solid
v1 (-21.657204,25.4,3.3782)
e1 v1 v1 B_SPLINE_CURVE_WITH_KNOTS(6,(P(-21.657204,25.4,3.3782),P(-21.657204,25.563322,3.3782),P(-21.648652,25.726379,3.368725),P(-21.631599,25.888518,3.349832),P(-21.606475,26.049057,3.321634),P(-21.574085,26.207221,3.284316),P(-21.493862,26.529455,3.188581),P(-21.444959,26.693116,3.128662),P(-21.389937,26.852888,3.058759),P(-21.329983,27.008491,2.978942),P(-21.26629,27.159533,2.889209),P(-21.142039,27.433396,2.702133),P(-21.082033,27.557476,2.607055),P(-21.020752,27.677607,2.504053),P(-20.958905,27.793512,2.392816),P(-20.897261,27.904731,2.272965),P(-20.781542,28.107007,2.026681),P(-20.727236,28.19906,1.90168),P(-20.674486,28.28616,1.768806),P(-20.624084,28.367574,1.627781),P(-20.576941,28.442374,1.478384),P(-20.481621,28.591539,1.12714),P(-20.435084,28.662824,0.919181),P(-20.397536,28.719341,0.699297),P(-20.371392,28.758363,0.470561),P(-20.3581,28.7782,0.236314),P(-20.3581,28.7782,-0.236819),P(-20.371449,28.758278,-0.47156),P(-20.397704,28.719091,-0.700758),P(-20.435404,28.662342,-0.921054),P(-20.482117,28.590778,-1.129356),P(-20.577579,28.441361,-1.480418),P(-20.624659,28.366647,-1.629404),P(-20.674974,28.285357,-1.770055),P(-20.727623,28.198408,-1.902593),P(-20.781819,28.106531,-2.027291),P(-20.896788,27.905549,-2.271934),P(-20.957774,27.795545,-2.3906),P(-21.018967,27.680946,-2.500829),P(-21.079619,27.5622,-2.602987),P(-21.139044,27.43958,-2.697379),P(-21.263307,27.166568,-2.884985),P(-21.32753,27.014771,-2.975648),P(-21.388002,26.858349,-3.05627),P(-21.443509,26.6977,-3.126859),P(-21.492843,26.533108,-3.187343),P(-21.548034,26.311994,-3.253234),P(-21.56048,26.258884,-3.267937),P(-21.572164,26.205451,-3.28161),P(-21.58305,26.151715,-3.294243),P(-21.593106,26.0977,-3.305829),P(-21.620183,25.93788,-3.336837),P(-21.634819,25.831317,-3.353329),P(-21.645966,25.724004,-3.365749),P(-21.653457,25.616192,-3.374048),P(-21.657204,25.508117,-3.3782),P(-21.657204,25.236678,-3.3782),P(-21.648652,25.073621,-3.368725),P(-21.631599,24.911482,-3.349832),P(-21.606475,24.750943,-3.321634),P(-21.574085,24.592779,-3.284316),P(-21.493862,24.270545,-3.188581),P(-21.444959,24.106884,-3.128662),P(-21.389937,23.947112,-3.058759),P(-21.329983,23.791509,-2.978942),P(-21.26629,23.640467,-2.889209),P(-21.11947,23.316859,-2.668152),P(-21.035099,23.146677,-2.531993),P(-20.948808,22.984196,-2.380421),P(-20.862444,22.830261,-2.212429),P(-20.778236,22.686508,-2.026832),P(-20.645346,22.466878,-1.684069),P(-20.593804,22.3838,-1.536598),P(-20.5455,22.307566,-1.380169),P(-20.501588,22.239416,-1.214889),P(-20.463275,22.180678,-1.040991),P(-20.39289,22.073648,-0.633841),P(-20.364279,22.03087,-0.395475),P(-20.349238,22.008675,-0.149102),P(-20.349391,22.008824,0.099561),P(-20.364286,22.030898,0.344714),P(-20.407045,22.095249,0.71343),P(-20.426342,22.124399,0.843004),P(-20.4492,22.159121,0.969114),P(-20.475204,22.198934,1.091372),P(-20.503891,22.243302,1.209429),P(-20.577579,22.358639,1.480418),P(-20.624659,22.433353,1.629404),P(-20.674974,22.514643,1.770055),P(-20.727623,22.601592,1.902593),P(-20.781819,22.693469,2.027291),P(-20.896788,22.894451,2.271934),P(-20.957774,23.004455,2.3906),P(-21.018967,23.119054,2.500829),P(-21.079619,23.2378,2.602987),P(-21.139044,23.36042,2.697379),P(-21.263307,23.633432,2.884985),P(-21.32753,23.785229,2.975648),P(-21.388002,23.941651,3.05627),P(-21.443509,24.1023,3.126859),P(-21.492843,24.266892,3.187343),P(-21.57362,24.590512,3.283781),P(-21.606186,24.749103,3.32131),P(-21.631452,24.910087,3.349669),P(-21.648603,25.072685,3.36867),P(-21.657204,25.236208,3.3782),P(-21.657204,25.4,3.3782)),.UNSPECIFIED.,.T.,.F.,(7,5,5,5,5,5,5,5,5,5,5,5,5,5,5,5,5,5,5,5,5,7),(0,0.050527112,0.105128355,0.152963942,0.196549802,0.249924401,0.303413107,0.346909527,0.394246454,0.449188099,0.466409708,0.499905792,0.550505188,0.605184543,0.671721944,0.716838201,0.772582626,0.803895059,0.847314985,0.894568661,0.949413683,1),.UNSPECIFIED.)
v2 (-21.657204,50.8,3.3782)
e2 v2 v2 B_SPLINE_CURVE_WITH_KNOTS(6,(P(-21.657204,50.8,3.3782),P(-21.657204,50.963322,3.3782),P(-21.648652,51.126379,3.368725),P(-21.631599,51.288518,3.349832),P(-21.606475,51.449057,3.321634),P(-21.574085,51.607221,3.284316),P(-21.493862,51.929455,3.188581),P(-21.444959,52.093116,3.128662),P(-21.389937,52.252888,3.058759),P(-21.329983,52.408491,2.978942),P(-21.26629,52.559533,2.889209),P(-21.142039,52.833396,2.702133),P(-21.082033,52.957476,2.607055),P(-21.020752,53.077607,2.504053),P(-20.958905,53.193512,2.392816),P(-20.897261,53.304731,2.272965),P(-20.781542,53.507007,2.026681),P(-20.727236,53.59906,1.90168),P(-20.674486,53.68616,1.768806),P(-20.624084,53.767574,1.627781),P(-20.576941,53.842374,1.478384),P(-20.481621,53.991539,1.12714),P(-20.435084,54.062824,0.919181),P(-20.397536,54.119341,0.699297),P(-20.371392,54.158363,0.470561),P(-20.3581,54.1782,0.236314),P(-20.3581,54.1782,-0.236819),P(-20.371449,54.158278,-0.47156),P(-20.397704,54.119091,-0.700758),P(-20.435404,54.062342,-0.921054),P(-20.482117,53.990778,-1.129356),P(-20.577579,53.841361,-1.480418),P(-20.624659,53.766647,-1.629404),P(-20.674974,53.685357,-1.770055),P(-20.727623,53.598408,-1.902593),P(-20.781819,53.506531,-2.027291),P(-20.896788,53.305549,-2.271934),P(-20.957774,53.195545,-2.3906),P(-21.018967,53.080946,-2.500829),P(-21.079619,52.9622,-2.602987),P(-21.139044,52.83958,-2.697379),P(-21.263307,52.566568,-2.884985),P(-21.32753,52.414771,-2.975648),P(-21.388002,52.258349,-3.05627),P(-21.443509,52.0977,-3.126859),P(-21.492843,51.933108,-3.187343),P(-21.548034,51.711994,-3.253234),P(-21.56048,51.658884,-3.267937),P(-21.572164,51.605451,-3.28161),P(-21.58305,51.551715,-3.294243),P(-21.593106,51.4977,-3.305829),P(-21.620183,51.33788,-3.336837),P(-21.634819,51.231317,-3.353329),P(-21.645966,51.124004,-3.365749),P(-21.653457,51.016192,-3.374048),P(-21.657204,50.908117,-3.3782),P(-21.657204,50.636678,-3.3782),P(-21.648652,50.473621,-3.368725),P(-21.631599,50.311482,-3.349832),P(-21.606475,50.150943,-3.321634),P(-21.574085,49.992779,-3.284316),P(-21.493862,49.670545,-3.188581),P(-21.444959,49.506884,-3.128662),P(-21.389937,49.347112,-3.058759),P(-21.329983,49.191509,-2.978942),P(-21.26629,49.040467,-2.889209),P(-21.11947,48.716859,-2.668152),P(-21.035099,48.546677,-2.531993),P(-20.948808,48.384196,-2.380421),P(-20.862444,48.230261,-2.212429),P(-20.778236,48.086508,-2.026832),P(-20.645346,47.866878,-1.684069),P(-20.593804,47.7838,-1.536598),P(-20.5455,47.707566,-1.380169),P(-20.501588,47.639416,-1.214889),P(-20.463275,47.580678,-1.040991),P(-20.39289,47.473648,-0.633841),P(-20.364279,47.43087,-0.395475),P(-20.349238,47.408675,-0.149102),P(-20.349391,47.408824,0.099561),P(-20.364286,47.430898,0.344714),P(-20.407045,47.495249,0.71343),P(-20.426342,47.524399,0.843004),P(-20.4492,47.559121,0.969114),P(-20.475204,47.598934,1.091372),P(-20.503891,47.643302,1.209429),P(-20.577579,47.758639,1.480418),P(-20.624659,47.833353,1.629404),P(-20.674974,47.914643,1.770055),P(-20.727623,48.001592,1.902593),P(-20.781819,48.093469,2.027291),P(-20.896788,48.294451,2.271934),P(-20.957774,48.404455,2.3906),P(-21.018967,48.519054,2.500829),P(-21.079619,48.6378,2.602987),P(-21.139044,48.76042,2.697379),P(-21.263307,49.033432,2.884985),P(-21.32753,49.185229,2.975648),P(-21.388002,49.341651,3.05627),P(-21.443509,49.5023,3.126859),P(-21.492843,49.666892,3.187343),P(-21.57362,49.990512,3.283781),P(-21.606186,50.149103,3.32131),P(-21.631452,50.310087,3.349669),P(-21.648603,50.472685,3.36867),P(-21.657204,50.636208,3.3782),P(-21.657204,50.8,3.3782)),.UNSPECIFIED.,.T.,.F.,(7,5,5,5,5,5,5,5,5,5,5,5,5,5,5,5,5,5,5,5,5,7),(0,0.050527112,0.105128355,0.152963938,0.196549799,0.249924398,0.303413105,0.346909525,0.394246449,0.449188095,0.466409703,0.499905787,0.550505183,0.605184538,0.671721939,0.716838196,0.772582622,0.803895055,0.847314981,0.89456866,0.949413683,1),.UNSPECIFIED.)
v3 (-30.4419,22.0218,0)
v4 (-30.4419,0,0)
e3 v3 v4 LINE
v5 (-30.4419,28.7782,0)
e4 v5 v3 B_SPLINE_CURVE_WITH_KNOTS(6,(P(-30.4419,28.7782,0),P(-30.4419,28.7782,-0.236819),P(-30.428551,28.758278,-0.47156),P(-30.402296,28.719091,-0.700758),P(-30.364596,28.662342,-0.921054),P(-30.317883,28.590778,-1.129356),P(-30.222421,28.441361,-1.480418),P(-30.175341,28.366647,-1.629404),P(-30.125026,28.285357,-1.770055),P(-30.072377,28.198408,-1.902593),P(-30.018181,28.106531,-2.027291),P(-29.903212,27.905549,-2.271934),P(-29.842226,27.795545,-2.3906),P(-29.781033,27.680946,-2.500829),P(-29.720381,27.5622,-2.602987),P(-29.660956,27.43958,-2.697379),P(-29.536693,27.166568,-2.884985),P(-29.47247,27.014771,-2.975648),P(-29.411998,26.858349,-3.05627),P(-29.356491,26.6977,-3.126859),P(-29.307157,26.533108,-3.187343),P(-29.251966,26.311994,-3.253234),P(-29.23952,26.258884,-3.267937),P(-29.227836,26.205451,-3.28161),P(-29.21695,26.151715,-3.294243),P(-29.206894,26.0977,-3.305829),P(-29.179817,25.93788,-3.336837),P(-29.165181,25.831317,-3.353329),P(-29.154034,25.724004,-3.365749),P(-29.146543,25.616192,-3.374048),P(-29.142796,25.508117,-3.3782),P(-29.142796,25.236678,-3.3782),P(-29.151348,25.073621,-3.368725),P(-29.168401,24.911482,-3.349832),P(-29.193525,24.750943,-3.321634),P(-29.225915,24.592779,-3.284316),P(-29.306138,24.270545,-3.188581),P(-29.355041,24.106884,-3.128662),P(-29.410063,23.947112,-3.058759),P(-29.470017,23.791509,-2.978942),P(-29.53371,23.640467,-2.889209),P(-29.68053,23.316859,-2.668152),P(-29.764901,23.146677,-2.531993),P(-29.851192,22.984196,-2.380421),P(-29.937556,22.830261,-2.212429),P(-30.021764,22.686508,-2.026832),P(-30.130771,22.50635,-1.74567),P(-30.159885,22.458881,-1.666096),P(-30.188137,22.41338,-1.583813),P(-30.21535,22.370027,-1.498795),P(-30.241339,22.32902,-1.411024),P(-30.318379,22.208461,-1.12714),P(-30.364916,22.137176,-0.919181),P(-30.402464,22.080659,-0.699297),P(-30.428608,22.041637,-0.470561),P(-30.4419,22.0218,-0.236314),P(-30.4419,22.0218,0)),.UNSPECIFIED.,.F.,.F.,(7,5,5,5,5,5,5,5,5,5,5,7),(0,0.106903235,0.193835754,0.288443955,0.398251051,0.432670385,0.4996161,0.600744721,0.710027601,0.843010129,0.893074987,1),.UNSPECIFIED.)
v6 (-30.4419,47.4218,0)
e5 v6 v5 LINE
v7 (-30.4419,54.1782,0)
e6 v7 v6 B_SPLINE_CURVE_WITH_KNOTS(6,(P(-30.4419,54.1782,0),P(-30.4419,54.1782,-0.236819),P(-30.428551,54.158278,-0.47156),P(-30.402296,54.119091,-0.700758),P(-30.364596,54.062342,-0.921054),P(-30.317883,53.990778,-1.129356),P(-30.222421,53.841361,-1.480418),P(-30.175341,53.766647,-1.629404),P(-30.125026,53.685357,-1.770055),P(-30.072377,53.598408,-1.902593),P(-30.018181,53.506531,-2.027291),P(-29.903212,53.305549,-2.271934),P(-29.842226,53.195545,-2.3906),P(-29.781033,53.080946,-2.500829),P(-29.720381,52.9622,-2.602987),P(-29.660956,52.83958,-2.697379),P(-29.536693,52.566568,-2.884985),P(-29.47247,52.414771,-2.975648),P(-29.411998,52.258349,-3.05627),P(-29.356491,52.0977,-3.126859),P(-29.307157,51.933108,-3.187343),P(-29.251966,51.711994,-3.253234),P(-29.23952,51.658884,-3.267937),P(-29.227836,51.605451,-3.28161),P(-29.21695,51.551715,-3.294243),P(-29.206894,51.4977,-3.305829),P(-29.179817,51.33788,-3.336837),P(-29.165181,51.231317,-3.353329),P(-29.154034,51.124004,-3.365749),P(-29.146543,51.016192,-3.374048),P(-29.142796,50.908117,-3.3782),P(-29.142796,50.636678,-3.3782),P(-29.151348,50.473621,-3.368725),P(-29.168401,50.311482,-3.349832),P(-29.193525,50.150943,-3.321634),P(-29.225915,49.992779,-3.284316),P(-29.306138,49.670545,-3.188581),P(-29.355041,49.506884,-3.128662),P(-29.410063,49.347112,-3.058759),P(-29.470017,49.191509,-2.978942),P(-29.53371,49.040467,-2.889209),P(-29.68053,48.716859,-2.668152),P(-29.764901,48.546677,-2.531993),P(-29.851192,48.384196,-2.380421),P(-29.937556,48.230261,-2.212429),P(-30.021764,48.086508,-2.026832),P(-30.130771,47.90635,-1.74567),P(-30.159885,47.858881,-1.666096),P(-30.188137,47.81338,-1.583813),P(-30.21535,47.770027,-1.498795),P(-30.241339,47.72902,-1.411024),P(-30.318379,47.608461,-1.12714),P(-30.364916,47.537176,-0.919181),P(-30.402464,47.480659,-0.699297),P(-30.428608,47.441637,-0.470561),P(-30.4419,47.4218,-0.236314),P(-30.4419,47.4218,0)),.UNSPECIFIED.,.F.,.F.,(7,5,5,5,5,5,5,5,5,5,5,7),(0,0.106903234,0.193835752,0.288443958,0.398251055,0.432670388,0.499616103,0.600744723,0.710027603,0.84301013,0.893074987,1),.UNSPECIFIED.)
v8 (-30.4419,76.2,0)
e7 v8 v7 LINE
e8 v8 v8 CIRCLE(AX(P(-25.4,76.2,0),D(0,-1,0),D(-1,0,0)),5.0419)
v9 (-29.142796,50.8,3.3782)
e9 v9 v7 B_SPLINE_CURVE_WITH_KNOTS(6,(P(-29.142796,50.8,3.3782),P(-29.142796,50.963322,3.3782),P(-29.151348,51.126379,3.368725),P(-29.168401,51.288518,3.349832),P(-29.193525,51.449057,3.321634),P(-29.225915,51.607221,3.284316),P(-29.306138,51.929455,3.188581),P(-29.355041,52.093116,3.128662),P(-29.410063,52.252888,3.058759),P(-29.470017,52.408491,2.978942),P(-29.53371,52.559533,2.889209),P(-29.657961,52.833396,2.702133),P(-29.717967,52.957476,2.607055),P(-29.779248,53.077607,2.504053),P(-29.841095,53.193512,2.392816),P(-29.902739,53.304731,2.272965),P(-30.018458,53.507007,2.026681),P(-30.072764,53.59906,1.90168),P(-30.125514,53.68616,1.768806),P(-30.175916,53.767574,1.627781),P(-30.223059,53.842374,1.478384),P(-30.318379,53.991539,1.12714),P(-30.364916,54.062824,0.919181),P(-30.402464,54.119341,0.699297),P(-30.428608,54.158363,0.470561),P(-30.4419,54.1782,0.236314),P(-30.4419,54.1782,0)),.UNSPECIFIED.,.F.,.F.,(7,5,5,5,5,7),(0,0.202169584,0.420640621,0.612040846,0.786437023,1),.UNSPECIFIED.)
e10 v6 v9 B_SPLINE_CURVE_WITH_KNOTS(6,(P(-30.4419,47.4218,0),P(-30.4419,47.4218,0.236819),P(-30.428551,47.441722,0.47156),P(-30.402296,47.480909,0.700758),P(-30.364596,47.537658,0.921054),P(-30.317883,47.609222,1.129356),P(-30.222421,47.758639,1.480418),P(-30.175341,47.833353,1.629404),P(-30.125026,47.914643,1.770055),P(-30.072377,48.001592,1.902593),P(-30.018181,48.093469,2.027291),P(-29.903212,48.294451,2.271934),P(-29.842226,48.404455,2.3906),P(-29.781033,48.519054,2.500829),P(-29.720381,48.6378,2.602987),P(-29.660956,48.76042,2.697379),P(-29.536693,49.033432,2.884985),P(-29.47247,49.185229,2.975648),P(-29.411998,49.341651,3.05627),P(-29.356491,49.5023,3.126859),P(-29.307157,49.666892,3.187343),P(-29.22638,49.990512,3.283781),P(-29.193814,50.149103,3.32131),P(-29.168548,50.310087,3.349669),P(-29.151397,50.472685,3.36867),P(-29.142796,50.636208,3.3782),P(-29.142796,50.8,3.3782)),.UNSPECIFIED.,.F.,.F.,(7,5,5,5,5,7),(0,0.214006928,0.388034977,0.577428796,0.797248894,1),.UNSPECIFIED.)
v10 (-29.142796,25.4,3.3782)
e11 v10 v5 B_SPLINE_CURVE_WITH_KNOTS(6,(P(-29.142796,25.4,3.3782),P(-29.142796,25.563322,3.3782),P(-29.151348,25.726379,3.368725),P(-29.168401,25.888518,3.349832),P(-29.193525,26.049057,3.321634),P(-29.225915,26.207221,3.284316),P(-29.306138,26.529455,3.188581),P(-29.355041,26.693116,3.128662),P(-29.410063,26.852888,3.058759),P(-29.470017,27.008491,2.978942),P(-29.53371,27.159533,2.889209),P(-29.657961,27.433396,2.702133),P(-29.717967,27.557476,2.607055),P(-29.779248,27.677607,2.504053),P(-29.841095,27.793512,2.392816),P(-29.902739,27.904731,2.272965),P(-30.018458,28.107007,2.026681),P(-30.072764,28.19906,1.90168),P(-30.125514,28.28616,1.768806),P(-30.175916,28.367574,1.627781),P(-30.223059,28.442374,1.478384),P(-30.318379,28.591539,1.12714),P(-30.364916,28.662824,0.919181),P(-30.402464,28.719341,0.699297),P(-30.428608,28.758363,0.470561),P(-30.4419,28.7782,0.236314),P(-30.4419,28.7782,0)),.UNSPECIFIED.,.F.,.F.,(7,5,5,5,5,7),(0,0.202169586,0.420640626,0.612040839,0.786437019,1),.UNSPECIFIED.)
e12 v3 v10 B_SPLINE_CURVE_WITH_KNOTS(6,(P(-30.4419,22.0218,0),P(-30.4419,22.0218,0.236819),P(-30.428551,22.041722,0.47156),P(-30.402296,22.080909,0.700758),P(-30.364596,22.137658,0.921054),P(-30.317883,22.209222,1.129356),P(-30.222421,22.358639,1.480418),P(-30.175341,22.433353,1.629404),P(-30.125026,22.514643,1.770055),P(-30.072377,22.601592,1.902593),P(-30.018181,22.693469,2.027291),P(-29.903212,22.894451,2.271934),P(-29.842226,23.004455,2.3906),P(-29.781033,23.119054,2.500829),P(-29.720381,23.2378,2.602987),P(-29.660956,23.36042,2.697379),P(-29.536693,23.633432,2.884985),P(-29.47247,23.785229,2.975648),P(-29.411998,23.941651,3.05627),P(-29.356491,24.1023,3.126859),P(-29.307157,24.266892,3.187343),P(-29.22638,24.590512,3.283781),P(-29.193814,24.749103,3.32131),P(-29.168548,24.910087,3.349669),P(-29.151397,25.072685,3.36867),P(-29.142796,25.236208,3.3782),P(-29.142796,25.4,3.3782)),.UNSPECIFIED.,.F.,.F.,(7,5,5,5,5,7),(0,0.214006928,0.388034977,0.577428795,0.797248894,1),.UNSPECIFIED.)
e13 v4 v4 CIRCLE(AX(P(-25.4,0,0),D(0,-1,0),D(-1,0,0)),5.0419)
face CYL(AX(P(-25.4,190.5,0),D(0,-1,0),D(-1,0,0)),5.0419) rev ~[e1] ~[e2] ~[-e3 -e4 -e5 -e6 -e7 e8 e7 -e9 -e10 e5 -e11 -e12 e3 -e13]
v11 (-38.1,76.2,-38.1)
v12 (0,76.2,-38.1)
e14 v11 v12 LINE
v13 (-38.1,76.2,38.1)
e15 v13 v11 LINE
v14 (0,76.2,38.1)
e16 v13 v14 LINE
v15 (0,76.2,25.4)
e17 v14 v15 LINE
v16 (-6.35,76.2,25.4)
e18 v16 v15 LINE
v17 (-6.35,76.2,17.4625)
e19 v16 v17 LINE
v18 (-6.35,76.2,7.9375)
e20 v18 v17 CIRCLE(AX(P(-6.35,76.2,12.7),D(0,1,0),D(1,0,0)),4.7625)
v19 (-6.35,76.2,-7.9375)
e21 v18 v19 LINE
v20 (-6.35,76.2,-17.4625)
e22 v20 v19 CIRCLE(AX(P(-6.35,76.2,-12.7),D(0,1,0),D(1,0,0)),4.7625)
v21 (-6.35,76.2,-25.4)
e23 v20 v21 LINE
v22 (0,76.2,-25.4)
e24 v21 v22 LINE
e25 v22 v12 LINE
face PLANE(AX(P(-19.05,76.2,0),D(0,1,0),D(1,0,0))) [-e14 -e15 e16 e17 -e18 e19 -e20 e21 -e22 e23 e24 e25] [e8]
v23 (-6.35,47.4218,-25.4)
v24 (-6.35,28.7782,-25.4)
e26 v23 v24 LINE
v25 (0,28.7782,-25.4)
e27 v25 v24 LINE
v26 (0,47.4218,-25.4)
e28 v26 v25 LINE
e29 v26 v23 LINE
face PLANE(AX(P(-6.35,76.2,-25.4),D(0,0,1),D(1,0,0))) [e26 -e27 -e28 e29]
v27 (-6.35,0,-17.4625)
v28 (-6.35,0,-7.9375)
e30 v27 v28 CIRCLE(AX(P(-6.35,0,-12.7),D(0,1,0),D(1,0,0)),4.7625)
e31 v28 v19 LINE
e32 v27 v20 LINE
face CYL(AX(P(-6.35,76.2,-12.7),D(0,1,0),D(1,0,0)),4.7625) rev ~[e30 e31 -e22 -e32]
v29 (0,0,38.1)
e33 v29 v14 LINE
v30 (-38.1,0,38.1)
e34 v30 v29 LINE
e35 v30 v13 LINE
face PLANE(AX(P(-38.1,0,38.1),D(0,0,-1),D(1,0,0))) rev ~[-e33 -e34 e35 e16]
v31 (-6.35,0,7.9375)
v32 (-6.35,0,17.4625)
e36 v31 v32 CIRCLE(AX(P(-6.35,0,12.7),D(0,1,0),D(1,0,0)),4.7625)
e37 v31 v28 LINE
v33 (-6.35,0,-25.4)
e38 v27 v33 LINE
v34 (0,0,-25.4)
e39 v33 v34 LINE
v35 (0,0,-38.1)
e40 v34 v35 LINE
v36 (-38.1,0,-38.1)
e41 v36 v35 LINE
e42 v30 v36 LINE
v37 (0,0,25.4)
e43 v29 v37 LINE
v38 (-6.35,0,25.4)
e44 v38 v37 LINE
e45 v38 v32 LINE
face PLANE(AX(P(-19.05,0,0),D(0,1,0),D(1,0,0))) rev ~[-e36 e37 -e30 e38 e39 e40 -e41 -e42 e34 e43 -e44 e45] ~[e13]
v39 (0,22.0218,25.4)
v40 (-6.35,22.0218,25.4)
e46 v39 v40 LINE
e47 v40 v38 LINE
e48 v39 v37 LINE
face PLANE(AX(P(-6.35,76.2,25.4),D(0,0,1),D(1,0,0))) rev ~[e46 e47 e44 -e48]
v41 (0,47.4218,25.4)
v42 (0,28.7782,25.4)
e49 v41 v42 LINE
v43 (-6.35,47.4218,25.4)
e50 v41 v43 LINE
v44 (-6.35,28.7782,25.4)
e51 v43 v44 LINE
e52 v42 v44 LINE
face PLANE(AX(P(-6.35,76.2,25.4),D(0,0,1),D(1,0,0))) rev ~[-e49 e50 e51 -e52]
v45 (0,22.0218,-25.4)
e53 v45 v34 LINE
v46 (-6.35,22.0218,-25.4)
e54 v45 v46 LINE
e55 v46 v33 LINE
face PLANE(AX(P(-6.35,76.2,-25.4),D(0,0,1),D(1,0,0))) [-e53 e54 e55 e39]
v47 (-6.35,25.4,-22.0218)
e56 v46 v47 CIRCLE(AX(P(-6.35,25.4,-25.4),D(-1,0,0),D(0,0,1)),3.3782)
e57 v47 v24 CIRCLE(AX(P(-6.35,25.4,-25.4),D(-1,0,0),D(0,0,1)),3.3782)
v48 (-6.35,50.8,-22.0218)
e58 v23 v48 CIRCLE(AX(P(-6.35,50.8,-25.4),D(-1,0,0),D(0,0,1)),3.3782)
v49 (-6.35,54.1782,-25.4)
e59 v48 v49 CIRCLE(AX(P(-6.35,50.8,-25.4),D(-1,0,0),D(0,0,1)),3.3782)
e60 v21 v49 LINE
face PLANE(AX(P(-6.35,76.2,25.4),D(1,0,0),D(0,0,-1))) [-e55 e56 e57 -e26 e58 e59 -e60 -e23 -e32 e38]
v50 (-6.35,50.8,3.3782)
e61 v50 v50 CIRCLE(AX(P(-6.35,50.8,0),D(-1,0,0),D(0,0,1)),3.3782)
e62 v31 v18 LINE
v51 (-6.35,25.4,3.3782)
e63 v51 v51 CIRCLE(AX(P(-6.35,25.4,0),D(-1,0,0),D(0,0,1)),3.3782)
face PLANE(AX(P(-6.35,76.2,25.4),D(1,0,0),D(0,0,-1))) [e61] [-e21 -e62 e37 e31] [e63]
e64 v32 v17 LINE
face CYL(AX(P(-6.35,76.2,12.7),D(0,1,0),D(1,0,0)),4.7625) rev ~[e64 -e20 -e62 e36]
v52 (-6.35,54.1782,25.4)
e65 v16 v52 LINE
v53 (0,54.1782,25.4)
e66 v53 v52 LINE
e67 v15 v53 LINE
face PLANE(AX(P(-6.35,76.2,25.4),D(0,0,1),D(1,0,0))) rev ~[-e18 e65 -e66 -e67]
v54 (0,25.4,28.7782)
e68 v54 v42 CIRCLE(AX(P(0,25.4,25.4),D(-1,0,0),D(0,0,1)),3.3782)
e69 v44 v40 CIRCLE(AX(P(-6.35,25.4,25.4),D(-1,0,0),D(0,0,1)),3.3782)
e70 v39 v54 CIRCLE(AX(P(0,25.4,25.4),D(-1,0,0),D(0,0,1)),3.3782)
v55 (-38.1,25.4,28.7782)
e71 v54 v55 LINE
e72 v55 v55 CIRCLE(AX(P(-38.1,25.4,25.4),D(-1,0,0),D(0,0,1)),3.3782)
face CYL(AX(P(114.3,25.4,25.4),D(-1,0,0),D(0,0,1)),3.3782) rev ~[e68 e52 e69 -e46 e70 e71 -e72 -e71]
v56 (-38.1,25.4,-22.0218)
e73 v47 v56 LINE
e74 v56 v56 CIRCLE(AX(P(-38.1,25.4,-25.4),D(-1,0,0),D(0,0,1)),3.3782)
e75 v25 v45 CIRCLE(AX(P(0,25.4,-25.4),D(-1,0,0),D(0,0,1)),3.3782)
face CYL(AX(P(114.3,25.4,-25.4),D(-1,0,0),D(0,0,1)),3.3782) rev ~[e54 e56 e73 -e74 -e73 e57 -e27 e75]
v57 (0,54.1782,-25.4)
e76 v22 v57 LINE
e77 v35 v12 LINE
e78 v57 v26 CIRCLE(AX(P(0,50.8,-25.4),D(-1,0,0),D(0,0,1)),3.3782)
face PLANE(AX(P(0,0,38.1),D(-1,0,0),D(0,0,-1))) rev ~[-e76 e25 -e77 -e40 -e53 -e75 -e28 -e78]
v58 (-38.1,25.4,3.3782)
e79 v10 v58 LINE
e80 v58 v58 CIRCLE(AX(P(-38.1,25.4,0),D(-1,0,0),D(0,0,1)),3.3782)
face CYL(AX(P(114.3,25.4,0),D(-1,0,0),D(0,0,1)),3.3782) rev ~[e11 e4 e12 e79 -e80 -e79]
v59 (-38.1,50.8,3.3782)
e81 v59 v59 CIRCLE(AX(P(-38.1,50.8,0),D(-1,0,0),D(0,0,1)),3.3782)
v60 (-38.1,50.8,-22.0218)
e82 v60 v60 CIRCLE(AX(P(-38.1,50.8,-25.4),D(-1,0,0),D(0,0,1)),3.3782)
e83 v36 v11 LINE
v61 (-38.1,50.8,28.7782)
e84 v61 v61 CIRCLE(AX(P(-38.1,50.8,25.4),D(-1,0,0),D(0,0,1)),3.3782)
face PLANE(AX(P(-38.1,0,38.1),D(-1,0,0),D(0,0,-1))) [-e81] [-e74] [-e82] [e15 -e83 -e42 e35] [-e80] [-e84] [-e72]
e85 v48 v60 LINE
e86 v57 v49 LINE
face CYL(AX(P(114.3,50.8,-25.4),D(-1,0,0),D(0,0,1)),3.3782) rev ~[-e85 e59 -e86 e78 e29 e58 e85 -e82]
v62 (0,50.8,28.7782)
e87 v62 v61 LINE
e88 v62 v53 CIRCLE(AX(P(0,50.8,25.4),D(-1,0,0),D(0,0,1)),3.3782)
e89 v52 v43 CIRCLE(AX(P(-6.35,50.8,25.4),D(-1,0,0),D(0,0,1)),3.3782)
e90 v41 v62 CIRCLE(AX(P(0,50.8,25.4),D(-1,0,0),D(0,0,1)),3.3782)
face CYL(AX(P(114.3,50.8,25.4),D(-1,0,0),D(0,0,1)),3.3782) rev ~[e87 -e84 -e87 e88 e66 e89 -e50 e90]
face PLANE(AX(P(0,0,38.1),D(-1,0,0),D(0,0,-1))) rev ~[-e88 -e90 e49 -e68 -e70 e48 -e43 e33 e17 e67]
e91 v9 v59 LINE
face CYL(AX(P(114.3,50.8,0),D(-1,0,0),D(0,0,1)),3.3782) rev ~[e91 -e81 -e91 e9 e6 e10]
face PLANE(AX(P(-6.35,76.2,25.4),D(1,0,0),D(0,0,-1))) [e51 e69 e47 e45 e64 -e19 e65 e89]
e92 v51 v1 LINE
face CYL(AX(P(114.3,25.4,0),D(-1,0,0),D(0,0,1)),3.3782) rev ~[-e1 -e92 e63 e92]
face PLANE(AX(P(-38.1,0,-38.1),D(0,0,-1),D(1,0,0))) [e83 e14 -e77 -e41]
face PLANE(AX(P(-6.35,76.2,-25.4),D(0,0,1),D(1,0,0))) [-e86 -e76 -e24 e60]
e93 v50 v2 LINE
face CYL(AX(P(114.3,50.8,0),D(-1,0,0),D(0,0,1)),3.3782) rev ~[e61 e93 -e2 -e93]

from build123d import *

# Parameters (mm, degrees)
SKETCH1_W               = 38.1
SKETCH1_H               = 76.2
BOSS_EXTRUDE1_DEPTH     = 76.2
SKETCH2_W               = 6.35
SKETCH2_H               = 50.8
CUT_EXTRUDE1_DEPTH      = 94.3255592
F_1_4_CLEARANCE_HOLE1_D = 6.7564
F_3_8_CLEARANCE_HOLE1_D = 10.0838
SKETCH7_R               = 4.7625
CUT_EXTRUDE2_DEPTH      = 94.325559323


with BuildPart() as part:
    # Sketch1 → Boss-Extrude1 (new body)
    with BuildSketch(Plane(origin=(0, 0, 0), x_dir=(1, 0, 0), z_dir=(0, 1, 0))):
        with Locations((-19.05, 0)):
            Rectangle(SKETCH1_W, SKETCH1_H)
    extrude(amount=BOSS_EXTRUDE1_DEPTH)

    # Sketch2 → Cut-Extrude1 (cut, through all)
    with BuildSketch(Plane(origin=(0, 76.2, 0), x_dir=(1, 0, 0), z_dir=(0, 1, 0))):
        with Locations((-3.175, 0)):
            Rectangle(SKETCH2_W, SKETCH2_H)
    extrude(amount=-CUT_EXTRUDE1_DEPTH, mode=Mode.SUBTRACT)

    # 1/4 Clearance Hole1 (through all)
    with Locations(Plane(origin=(0, 0, 0), x_dir=(0, 0, -1), z_dir=(1, 0, 0))):
        with Locations((0, 50.8), (0, 25.4), (-25.4, 25.4), (-25.4, 50.8), (25.4, 50.8), (25.4, 25.4)):
            Hole(F_1_4_CLEARANCE_HOLE1_D / 2)

    # 3/8 Clearance Hole1 (through all)
    with Locations(Plane(origin=(0, 76.2, 0), x_dir=(1, 0, 0), z_dir=(0, 1, 0))):
        with Locations((-25.4, 0)):
            Hole(F_3_8_CLEARANCE_HOLE1_D / 2)

    # Sketch7 → Cut-Extrude2 (cut, through all)
    with BuildSketch(Plane(origin=(0, 76.2, 0), x_dir=(1, 0, 0), z_dir=(0, 1, 0))):
        with Locations((-6.35, 12.7)):
            Circle(SKETCH7_R)
        with Locations((-6.35, -12.7)):
            Circle(SKETCH7_R)
    extrude(amount=-CUT_EXTRUDE2_DEPTH, mode=Mode.SUBTRACT)


solid = part.part
